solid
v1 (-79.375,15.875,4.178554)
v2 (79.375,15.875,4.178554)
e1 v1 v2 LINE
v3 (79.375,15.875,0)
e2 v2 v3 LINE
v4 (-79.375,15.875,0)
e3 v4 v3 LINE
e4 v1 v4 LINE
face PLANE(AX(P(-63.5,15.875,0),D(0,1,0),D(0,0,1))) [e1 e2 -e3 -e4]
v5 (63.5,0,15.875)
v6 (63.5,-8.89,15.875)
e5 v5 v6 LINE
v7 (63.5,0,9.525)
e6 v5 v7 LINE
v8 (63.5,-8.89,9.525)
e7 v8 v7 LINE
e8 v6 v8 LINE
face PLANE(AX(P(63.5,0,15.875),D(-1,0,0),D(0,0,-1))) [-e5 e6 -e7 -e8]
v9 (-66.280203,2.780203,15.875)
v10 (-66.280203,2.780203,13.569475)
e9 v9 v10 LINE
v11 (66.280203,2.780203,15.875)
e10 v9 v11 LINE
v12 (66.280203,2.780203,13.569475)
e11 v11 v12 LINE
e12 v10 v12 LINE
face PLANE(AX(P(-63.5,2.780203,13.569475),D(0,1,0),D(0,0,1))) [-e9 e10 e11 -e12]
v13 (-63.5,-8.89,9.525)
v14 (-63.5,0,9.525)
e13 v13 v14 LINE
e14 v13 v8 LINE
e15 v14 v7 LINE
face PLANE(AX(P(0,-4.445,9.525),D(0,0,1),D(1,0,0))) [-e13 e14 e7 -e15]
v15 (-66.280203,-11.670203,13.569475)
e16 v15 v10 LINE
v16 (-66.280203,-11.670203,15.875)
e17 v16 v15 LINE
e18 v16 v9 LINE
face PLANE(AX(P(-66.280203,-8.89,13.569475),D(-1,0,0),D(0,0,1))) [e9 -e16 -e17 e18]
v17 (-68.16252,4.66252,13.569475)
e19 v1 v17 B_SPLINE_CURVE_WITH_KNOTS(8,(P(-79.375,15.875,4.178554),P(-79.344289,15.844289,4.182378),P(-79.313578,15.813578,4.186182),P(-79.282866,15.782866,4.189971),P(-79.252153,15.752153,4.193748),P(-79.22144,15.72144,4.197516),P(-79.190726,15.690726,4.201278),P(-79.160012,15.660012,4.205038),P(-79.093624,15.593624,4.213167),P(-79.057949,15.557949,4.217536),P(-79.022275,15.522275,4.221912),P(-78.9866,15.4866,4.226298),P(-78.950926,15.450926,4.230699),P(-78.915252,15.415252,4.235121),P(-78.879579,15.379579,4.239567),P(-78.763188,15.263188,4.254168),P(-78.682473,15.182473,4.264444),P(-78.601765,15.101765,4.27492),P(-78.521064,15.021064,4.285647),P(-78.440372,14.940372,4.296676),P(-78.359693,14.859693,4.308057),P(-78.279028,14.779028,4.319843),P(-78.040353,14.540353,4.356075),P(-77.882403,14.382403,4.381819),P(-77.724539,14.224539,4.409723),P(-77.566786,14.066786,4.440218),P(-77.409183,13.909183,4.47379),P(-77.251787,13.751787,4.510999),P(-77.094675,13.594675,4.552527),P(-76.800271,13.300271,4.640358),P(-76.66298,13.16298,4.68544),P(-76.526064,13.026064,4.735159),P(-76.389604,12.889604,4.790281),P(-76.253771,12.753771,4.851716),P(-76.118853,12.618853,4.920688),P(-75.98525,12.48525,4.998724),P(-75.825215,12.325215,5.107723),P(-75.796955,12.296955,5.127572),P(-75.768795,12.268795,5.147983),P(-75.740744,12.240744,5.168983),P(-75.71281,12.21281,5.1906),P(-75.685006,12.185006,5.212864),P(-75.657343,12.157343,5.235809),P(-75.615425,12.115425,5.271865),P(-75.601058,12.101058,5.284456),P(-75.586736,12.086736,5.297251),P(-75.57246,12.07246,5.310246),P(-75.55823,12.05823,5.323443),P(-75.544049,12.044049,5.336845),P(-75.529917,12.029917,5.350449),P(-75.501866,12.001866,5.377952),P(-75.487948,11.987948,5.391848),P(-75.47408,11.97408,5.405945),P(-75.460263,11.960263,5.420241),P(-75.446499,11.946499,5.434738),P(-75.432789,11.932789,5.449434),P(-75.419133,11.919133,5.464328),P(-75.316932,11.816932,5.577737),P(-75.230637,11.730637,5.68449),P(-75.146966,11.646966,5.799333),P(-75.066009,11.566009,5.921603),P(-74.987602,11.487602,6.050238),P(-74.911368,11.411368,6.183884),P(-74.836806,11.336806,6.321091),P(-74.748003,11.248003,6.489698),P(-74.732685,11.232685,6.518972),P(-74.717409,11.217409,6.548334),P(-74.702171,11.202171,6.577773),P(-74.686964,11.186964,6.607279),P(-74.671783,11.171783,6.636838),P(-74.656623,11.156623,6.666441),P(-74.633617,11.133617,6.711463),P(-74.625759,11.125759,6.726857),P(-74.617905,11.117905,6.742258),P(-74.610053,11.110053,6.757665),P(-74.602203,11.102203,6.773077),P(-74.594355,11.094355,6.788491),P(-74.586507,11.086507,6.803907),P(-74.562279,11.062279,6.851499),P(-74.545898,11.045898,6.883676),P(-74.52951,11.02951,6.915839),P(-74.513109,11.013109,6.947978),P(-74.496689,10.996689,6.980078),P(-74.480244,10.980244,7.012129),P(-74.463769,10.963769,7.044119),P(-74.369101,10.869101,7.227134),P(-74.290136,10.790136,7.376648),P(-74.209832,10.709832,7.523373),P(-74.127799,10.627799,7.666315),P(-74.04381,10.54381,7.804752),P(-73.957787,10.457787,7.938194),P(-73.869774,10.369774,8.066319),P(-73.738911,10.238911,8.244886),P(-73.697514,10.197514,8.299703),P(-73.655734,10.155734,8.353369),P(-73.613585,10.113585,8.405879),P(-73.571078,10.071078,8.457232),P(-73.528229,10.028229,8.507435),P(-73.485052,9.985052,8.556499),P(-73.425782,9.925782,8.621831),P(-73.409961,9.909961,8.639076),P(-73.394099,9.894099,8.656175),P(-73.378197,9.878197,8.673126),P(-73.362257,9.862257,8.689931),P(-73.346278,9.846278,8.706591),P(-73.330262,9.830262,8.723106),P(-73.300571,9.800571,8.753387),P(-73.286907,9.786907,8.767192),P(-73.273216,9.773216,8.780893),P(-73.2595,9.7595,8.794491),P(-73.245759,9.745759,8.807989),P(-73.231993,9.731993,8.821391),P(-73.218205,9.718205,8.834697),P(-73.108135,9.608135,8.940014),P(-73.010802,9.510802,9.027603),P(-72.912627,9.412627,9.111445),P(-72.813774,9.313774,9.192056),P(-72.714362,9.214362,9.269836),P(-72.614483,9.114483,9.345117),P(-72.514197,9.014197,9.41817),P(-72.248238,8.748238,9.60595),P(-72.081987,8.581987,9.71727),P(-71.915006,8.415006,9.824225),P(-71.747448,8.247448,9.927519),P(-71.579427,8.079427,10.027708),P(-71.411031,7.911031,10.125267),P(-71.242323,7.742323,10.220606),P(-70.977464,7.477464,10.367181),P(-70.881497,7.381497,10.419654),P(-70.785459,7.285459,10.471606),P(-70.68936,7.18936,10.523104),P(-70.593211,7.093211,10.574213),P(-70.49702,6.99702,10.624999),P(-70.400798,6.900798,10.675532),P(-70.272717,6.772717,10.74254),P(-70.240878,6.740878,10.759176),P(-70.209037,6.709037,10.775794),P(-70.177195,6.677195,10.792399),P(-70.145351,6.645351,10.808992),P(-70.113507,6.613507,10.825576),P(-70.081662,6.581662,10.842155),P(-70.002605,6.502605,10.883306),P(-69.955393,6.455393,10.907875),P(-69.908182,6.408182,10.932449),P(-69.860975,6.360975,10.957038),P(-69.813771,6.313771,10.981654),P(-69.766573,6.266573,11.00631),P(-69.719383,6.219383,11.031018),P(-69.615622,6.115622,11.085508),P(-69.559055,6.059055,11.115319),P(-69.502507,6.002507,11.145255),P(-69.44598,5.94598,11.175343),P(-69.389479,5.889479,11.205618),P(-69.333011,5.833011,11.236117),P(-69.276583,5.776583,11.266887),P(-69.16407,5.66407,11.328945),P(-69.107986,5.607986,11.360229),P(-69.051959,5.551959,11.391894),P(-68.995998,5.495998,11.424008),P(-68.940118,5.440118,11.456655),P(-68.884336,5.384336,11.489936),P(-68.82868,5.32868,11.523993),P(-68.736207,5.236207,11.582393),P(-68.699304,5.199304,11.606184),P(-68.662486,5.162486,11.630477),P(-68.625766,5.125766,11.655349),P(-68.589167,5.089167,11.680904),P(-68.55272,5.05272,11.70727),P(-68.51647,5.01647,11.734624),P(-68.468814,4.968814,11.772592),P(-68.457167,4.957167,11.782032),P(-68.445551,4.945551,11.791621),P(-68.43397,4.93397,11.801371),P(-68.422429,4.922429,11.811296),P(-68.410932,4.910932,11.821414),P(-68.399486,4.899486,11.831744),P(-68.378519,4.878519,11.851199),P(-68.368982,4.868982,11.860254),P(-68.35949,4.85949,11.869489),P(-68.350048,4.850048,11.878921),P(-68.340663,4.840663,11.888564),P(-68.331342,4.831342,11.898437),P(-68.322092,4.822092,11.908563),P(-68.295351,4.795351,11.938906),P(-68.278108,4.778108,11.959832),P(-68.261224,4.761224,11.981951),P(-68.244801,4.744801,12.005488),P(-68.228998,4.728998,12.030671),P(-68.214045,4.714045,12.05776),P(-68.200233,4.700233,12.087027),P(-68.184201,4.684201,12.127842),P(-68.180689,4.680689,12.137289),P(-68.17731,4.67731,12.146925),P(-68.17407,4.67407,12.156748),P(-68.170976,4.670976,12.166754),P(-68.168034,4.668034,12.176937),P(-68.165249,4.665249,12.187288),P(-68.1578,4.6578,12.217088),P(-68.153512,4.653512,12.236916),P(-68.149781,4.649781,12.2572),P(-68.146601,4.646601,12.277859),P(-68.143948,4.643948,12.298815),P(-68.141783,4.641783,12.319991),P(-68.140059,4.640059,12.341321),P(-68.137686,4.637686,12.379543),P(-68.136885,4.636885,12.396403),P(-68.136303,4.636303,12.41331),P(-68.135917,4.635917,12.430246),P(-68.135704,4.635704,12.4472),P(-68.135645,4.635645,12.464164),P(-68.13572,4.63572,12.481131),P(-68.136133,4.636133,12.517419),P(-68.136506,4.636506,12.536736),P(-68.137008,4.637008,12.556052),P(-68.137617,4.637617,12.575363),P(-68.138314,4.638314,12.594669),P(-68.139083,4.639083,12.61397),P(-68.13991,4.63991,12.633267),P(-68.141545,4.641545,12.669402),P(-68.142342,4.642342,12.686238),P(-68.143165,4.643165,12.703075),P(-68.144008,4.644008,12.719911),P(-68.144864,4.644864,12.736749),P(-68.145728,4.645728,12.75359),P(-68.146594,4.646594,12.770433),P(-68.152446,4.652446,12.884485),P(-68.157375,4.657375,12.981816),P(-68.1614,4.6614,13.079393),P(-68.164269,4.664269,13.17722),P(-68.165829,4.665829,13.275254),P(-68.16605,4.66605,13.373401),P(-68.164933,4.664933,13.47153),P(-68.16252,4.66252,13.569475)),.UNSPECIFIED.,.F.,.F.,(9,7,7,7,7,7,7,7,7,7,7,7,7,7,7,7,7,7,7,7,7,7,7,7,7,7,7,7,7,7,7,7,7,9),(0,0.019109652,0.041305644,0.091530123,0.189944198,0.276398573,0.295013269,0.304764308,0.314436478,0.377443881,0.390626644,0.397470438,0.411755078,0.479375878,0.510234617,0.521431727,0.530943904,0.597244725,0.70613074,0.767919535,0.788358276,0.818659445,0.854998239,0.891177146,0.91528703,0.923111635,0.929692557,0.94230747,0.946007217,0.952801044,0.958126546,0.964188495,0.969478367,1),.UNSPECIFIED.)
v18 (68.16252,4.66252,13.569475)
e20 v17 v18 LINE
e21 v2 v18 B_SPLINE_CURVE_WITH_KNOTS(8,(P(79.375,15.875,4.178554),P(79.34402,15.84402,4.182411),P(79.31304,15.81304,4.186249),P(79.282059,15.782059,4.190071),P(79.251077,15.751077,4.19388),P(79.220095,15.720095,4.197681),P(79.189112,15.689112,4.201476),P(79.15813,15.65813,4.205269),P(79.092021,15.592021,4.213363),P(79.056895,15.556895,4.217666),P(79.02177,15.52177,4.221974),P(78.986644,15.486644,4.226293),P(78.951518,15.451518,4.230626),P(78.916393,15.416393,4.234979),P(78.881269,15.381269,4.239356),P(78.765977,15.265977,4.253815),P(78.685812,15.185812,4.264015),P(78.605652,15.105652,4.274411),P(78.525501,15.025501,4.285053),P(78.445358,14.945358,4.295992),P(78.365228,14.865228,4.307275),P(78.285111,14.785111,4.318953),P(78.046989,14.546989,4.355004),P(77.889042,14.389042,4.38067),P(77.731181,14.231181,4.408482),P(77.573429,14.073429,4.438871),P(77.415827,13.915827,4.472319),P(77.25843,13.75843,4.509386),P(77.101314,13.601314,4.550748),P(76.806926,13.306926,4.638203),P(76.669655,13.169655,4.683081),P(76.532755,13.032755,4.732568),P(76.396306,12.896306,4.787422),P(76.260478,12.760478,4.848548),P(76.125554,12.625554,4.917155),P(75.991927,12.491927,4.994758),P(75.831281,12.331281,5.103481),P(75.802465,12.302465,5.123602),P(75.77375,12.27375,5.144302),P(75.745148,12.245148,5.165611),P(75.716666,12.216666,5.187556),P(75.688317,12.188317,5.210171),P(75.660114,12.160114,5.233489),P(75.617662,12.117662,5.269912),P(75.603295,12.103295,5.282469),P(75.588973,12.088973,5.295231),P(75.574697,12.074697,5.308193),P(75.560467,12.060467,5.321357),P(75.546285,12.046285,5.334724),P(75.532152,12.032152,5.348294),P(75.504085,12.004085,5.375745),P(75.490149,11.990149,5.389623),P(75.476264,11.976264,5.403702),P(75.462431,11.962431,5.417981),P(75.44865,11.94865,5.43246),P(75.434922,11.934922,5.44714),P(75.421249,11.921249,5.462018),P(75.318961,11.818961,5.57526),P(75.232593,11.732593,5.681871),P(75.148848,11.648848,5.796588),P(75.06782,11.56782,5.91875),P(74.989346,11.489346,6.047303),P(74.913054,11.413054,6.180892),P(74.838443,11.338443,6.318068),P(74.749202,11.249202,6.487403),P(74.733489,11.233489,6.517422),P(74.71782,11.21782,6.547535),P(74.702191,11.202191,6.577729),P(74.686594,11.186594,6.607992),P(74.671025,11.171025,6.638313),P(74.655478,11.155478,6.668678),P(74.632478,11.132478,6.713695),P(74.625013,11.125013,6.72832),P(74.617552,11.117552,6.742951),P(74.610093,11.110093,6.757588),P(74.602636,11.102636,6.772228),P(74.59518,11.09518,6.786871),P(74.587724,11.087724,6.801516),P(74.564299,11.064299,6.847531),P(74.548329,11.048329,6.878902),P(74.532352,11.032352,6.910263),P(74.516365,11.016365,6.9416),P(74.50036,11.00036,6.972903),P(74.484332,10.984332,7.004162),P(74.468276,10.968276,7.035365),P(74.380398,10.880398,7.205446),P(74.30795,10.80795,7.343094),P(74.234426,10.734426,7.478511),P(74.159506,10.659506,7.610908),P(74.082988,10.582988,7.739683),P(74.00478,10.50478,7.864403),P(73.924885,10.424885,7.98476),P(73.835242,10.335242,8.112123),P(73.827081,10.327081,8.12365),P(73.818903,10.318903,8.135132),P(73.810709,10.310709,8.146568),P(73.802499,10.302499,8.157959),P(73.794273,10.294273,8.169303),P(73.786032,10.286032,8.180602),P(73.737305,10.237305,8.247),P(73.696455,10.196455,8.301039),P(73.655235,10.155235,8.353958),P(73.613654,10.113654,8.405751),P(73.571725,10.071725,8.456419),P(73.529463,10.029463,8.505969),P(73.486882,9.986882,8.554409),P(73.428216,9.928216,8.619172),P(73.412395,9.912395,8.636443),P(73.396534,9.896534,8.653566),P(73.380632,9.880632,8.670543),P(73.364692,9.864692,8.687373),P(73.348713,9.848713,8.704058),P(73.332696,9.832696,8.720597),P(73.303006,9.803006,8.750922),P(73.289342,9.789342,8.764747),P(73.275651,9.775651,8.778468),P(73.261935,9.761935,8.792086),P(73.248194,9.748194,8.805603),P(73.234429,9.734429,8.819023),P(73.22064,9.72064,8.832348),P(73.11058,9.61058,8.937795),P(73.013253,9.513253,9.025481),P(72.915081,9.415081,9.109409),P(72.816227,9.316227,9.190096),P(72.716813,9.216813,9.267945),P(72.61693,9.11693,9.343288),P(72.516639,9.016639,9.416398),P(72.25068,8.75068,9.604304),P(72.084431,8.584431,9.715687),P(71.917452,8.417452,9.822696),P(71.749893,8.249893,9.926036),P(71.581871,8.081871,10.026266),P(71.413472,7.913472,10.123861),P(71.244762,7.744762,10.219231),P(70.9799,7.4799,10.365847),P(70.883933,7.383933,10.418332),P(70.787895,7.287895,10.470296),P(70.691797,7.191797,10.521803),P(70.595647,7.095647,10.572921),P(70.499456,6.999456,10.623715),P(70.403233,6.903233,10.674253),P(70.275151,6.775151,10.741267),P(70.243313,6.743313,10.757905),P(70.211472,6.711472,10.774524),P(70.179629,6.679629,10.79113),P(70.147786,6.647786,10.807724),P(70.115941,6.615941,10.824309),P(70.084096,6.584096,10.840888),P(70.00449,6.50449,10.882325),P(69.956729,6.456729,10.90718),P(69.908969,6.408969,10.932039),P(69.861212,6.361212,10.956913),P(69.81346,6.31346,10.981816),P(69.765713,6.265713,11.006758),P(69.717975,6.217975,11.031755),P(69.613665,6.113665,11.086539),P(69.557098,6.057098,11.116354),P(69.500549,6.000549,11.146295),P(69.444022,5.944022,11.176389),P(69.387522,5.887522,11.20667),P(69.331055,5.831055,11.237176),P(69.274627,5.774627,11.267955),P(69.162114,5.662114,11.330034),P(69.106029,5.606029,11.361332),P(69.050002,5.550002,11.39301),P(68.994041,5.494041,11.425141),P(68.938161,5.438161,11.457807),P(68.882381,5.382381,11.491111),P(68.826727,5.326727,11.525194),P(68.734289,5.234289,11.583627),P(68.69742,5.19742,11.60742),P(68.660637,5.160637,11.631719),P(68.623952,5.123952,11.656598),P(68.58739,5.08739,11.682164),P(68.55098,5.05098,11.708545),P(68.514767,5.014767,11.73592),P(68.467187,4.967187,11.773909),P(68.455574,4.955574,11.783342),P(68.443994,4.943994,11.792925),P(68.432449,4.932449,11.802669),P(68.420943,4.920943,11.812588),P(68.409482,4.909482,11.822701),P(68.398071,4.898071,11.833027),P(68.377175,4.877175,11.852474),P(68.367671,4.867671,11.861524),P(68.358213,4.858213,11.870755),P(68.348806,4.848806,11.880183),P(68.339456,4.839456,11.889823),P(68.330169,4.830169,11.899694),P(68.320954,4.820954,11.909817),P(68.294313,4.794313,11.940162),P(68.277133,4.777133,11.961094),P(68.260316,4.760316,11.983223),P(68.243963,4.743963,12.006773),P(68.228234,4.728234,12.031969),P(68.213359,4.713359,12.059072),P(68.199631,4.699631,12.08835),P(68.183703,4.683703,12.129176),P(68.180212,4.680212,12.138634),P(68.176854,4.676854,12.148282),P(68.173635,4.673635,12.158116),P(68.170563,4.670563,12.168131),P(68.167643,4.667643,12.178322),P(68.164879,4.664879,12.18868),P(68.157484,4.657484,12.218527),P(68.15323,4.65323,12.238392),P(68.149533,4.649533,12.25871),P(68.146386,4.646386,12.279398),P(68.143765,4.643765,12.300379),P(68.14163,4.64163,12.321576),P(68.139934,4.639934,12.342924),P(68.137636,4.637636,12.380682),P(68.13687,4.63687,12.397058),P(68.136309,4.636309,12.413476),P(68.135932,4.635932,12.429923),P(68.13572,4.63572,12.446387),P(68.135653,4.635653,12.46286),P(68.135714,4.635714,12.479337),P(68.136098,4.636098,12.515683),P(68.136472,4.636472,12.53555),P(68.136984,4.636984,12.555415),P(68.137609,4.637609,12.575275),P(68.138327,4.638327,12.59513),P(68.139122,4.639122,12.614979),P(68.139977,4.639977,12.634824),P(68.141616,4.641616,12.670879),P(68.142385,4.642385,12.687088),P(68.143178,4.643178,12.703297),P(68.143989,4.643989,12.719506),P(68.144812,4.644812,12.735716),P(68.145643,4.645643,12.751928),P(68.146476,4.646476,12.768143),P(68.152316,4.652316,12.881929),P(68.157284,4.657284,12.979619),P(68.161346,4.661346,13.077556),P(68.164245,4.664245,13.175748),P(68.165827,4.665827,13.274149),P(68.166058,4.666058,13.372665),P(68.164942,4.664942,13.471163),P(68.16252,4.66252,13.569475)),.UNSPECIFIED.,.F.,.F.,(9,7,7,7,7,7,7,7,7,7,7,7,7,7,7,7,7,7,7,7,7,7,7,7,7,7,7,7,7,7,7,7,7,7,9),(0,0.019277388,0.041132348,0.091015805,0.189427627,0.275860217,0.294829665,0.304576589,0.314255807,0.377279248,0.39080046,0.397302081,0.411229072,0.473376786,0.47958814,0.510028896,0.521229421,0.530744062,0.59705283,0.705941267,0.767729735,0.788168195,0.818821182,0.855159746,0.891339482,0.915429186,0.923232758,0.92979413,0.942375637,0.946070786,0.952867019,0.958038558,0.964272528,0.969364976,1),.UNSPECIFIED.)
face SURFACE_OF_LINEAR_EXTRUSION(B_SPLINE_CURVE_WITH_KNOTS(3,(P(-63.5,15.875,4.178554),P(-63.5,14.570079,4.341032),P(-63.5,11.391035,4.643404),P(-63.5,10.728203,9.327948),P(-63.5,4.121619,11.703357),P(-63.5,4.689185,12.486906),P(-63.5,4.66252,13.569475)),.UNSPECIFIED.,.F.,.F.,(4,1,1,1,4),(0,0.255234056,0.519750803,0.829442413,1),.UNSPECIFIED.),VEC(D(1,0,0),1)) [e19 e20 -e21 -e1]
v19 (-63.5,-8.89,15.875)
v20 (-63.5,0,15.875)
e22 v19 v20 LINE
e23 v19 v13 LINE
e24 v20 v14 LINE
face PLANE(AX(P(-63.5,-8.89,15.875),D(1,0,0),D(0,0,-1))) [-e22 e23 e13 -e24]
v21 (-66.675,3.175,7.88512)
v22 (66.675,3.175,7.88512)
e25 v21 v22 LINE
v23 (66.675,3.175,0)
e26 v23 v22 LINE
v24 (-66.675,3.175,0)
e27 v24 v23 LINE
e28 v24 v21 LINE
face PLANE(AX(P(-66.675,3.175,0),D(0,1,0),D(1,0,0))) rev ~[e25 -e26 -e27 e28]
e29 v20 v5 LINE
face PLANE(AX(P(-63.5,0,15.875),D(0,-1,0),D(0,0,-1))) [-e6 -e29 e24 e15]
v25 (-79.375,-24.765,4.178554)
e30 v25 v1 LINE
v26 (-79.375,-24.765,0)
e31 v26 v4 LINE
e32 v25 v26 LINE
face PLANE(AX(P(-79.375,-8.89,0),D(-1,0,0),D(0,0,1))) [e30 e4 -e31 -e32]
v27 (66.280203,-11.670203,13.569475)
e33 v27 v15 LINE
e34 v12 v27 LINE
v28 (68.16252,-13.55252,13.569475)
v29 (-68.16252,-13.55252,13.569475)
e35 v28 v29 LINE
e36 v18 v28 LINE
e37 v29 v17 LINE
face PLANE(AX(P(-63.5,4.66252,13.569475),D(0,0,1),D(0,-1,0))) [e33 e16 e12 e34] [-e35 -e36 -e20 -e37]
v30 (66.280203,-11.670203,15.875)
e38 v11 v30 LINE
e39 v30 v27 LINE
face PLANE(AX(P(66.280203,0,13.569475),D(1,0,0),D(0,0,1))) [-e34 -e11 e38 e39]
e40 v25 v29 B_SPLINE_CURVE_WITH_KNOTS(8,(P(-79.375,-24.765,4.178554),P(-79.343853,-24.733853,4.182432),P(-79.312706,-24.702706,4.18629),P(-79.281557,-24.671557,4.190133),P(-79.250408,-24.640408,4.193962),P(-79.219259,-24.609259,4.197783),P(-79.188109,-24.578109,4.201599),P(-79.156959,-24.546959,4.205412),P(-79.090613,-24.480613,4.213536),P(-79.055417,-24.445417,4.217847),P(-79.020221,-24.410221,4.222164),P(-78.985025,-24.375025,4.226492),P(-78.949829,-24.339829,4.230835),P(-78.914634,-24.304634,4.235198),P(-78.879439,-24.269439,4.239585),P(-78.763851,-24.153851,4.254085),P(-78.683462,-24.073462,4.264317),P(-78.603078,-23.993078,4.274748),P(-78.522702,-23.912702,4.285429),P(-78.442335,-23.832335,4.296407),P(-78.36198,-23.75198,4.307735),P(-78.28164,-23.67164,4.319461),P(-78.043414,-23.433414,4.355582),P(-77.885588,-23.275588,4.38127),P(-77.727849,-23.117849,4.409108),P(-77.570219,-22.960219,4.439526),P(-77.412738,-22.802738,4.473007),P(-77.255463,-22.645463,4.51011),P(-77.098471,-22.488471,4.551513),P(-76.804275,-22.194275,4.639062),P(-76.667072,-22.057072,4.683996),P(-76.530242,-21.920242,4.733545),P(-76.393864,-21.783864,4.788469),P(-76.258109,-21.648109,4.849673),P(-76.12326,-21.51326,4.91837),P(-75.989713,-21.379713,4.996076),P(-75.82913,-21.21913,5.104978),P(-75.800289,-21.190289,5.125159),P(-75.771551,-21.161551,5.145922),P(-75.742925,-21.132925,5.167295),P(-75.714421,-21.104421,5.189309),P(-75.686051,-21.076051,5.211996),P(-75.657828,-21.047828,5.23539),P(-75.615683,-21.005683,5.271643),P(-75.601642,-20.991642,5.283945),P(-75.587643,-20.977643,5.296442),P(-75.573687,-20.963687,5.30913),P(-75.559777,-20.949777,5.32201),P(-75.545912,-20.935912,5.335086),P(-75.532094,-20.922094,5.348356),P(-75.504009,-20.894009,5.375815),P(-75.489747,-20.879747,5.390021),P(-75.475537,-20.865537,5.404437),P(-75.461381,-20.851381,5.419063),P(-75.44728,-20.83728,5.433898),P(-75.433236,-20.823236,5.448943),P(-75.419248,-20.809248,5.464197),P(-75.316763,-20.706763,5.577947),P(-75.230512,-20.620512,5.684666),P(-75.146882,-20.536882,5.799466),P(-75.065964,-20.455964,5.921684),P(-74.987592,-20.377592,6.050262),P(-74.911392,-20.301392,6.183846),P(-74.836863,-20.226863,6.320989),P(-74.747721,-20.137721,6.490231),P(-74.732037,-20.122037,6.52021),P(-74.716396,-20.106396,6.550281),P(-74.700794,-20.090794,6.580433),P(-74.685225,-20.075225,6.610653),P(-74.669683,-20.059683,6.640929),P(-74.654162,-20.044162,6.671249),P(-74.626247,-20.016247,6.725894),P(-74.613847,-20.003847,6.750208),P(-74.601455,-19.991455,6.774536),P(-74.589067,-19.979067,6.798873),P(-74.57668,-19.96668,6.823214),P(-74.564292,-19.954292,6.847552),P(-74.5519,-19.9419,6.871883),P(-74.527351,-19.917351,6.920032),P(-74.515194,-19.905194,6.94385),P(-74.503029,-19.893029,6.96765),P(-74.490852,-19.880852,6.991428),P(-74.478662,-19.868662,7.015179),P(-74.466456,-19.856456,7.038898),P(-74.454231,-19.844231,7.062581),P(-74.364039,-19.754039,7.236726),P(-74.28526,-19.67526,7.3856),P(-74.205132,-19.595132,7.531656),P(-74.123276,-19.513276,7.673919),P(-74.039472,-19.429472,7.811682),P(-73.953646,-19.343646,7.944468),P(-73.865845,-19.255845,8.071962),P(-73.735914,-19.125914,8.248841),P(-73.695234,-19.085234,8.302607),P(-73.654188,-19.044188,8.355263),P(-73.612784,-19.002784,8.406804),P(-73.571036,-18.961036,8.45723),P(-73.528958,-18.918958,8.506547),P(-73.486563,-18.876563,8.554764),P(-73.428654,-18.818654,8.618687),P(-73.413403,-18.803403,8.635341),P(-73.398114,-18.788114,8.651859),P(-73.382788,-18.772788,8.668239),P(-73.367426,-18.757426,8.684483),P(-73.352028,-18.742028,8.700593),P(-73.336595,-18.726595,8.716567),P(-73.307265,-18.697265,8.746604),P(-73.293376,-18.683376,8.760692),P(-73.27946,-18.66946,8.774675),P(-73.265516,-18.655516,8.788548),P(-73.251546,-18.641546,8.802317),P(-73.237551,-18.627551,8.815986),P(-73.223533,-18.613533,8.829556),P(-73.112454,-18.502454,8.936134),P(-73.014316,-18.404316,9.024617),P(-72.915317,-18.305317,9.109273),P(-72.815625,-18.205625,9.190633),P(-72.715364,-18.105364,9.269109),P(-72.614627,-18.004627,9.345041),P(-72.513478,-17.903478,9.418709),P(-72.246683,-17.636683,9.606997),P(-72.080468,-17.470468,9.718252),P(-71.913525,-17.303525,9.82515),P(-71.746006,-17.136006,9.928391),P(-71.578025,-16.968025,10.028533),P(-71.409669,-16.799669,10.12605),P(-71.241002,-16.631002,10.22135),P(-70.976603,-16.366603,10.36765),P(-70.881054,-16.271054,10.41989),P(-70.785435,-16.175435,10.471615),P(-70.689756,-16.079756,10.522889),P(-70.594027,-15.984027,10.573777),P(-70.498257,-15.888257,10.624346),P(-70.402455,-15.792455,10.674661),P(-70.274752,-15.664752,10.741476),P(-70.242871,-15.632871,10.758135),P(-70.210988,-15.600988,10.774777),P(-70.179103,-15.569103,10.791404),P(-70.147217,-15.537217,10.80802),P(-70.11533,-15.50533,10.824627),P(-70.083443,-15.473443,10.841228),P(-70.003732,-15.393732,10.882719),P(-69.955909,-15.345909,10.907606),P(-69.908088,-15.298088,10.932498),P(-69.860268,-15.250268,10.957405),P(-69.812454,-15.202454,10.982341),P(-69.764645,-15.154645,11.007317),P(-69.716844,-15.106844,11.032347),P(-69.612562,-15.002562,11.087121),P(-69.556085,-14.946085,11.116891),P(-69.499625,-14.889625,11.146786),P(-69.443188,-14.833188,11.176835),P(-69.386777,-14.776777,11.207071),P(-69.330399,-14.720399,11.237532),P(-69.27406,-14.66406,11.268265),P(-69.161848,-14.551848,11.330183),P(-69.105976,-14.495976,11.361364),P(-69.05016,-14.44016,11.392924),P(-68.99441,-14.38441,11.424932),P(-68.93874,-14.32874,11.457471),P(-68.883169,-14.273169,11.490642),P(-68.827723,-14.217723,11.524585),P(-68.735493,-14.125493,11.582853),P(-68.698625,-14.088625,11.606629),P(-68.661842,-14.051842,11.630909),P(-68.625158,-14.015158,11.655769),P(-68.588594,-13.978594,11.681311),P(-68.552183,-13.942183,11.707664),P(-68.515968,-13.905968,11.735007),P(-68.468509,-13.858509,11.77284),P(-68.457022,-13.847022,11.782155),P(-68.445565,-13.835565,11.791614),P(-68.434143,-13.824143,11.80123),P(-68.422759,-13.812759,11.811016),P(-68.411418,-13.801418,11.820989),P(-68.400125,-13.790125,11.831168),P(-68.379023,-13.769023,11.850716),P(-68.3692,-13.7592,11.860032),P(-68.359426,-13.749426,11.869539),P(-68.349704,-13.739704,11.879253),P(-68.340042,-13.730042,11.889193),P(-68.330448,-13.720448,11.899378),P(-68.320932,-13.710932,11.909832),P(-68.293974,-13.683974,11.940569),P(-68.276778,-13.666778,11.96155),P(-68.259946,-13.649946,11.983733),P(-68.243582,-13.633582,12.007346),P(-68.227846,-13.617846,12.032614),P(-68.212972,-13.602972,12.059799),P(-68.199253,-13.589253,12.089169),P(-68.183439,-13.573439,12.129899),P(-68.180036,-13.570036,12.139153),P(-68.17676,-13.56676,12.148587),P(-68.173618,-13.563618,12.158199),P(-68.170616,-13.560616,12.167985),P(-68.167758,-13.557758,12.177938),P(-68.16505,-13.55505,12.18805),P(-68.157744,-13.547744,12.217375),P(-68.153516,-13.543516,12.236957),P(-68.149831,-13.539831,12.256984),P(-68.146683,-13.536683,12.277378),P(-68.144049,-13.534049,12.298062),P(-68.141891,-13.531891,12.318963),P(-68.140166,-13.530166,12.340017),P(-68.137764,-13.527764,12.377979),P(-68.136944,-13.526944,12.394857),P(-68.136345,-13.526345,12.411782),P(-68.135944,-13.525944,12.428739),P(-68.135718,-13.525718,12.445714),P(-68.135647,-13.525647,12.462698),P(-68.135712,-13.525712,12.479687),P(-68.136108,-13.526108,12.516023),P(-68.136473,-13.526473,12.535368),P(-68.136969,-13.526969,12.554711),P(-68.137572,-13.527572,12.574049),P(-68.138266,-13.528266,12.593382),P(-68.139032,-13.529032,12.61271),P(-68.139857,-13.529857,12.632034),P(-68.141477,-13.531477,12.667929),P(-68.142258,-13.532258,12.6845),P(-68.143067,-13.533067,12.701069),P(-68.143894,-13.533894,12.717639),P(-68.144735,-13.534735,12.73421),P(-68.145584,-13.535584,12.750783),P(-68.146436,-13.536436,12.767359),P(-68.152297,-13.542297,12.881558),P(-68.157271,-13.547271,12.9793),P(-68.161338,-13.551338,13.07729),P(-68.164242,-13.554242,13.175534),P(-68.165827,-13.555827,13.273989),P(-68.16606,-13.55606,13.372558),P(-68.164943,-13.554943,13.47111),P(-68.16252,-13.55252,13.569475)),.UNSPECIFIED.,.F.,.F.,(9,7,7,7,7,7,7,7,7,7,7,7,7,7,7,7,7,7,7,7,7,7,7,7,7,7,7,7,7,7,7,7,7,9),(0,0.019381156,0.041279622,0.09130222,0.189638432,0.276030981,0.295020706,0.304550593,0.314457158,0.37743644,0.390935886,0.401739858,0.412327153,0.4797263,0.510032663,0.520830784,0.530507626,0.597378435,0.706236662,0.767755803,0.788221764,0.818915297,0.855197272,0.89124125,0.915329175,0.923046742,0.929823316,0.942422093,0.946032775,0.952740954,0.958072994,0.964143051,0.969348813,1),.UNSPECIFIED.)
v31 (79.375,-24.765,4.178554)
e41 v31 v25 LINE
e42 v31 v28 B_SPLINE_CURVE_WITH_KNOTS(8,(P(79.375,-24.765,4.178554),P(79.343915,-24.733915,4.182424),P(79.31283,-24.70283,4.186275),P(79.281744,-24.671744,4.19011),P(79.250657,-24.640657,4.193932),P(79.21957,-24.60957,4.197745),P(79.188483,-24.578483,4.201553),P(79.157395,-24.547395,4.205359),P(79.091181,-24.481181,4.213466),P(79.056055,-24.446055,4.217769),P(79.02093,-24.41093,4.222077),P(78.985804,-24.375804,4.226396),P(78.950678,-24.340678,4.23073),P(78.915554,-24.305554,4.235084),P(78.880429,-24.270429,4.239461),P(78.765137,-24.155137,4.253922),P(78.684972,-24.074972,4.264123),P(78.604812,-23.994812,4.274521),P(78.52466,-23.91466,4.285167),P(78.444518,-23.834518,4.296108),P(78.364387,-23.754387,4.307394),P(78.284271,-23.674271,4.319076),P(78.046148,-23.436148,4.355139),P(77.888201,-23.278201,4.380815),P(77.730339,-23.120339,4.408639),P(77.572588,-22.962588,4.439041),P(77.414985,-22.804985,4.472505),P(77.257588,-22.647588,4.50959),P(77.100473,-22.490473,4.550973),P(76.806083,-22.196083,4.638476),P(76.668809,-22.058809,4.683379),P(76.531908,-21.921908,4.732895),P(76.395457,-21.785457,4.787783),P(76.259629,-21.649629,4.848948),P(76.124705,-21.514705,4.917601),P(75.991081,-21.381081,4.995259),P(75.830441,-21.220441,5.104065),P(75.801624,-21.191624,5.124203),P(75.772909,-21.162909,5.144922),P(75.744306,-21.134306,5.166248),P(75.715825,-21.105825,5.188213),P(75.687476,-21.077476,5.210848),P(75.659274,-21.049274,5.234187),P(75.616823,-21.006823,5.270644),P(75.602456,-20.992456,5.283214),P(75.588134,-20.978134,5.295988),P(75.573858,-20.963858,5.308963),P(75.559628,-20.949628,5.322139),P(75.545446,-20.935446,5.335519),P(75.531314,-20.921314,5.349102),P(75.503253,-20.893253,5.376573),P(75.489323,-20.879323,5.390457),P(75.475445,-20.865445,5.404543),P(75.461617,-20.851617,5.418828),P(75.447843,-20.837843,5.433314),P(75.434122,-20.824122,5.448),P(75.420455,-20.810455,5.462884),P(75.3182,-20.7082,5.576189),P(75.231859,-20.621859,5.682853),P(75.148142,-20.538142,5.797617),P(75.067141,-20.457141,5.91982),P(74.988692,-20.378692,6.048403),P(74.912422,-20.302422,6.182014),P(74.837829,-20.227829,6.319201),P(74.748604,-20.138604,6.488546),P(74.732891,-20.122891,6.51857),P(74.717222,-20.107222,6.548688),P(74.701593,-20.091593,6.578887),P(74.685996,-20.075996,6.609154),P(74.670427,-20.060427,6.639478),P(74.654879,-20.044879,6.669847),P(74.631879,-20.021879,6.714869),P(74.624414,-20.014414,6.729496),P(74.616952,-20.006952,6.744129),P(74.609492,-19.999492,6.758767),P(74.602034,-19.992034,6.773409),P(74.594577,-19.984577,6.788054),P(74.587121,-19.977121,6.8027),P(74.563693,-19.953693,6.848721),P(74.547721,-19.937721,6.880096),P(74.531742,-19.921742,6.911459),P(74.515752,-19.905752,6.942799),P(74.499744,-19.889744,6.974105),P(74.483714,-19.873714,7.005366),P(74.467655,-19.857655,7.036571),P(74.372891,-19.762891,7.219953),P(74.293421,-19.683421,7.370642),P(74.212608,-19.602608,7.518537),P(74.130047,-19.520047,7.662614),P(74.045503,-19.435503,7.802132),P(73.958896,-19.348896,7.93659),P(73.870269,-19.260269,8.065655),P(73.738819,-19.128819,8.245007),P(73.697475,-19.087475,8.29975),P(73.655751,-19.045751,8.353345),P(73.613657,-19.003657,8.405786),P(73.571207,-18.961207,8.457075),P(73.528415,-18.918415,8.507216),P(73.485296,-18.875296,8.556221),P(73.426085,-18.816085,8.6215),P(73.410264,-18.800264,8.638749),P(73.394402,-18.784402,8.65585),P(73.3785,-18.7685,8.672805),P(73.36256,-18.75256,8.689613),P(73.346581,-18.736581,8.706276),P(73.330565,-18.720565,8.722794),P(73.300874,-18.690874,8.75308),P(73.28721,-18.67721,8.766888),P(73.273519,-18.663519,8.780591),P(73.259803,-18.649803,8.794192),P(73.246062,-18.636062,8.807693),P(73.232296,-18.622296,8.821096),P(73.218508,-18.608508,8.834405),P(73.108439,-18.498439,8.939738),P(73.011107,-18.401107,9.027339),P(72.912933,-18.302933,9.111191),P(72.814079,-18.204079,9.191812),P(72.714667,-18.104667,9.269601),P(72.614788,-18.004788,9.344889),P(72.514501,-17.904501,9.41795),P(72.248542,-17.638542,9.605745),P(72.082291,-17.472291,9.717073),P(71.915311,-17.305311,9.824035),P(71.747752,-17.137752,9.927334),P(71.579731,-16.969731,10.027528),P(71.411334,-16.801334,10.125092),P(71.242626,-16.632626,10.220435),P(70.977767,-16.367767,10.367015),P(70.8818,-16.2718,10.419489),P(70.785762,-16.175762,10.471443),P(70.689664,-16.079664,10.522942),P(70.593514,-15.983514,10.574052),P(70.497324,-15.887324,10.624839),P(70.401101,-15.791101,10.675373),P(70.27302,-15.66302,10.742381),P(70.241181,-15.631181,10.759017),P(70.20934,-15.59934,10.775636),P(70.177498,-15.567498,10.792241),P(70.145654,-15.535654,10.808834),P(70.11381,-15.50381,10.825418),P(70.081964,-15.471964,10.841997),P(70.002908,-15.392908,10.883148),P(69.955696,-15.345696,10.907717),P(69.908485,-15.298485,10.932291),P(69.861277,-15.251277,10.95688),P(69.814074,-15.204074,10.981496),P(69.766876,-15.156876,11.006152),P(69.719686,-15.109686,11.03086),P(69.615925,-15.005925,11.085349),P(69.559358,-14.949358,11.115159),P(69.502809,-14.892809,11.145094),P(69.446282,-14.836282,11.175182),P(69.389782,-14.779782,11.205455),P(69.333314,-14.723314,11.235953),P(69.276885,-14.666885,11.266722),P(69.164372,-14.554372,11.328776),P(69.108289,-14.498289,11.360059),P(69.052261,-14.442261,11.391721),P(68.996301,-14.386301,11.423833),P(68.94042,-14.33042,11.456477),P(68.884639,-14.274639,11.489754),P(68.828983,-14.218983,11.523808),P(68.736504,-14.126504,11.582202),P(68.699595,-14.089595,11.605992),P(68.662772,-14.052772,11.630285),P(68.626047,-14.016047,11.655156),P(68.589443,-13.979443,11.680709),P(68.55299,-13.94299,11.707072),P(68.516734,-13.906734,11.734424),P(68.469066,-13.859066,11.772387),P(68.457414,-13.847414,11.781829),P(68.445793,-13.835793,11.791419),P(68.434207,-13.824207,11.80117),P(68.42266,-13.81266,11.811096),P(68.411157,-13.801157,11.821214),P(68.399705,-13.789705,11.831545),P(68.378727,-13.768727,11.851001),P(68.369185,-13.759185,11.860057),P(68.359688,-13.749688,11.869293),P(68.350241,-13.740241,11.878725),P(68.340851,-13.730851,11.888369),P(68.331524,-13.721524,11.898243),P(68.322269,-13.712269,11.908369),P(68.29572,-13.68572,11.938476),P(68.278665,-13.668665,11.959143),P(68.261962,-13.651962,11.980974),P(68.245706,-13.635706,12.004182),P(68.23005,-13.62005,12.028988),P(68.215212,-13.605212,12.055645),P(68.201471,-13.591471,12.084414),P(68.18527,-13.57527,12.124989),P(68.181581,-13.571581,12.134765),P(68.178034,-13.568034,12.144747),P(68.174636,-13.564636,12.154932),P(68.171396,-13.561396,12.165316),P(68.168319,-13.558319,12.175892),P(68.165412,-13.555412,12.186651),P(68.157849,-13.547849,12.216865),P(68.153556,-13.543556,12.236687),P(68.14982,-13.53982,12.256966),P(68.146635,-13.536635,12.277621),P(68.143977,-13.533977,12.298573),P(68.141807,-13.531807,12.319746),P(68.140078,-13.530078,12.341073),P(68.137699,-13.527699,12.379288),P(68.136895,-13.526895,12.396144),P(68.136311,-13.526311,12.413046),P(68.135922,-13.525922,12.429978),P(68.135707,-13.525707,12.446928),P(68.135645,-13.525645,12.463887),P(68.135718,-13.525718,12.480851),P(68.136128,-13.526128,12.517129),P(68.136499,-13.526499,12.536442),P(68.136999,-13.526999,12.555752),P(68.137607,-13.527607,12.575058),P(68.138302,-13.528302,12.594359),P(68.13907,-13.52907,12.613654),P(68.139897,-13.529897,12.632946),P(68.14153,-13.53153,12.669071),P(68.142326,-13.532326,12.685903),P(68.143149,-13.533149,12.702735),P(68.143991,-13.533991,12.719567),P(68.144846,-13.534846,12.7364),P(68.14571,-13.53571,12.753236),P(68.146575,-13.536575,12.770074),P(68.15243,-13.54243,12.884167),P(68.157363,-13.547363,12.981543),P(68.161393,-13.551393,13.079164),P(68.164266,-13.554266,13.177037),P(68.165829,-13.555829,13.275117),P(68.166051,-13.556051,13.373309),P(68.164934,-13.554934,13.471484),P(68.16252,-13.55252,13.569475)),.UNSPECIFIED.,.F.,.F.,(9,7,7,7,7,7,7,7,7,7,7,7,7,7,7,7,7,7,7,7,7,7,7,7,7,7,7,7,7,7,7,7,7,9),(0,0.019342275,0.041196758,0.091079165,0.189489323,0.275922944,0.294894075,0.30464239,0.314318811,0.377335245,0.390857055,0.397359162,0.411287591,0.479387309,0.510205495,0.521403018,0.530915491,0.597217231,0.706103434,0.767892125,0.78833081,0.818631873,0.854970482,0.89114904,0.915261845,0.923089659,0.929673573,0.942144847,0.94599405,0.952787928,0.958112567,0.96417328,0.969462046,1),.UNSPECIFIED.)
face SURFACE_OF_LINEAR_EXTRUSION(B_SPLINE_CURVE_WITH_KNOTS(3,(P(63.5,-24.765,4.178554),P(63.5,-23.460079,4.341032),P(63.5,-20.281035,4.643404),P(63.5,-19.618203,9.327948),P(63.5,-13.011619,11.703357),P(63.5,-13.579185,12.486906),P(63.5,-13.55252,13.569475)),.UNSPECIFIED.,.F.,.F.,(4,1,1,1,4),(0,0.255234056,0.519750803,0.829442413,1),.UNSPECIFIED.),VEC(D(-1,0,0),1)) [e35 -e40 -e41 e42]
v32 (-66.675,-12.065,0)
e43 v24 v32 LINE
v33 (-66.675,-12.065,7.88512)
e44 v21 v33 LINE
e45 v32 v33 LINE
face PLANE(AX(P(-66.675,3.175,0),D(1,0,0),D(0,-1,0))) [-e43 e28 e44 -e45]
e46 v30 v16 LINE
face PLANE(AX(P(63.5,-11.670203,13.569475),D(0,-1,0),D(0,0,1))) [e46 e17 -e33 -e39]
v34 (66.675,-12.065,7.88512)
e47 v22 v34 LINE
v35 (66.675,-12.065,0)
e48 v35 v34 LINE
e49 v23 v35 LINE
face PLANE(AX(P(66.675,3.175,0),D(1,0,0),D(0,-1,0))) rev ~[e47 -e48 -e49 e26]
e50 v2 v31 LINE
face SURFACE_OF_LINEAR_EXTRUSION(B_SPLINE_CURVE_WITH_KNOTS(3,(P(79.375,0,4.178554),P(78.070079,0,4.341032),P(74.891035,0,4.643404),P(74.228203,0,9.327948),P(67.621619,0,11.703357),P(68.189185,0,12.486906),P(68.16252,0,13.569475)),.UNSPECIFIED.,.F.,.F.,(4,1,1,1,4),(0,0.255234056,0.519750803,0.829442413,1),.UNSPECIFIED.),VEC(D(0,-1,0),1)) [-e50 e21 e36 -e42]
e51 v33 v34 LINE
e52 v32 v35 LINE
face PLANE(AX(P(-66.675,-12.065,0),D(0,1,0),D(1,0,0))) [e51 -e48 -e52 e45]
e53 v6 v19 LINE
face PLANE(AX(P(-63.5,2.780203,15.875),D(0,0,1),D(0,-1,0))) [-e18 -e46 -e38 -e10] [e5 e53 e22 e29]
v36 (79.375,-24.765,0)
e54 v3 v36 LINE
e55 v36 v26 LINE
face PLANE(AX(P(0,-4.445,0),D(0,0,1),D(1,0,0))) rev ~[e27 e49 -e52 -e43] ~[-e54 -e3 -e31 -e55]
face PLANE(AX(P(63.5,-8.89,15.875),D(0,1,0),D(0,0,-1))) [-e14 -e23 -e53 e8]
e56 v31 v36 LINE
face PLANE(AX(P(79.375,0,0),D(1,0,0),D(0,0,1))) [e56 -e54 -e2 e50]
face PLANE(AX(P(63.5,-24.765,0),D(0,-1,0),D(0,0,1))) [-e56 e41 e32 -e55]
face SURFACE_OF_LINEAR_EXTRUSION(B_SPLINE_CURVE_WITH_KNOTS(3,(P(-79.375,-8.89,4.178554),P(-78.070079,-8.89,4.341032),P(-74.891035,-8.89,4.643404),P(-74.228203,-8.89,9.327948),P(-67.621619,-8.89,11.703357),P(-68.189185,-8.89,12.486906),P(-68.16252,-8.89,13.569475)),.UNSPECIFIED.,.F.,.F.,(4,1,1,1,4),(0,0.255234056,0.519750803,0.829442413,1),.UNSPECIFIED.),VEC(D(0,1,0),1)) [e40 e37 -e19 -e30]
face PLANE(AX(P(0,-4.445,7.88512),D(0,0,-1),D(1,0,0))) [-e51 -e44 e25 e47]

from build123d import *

# Parameters (mm, degrees)
F3_W     = 127
F3_H     = 8.89
F4_DEPTH = 9.525
F5_W     = 133.35
F5_H     = 15.24
F6_DEPTH = 7.88512


with BuildPart() as f2:
    # F2: sweep along a path in F0
    with BuildLine(Plane.XY) as f2_path:
        Line((-63.5, 0), (63.5, 0))
        Line((63.5, 0), (63.5, -8.89))
        Line((63.5, -8.89), (-63.5, -8.89))
        Line((-63.5, -8.89), (-63.5, 0))
    # F1 (on Right) → F2 (sweep)
    with BuildSketch(Plane.YZ):
        with BuildLine():
            Line((0, 4.178553988), (0, 0))
            Line((0, 0), (15.875, 0))
            Line((15.875, 0), (15.875, 4.178553988))
            add(Edge.make_bspline(
                [(15.875, 4.178553988), (14.5700791907, 4.3410316154), (11.3910350226, 4.6434039972), (10.7282030423, 9.3279482792), (4.1216189564, 11.7033571608), (4.6891846979, 12.4869055891), (4.6625201725, 13.5694751074)],
                knots=[0, 0, 0, 0, 0.2552340564, 0.5197508028, 0.8294424133, 1, 1, 1, 1], degree=3))
            Line((4.6625201725, 13.5694751074), (2.7802032419, 13.5694751074))
            Line((2.7802032419, 13.5694751074), (2.7802032419, 15.875))
            Line((2.7802032419, 15.875), (0, 15.875))
            Line((0, 15.875), (0, 4.178553988))
        make_face()
    sweep(path=f2_path.line, transition=Transition.RIGHT)

    # F3 (on Top) → F4 (join)
    with BuildSketch(Plane.XY):
        with Locations((0, -4.445)):
            Rectangle(F3_W, F3_H)
    extrude(amount=F4_DEPTH)

    # F5 (on face) → F6 (cut)
    with BuildSketch(Plane(origin=(0, 0, 0), x_dir=(1, 0, 0), z_dir=(0, 0, -1))):
        with Locations((0, 4.445)):
            Rectangle(F5_W, F5_H)
    extrude(amount=-F6_DEPTH, mode=Mode.SUBTRACT)


solid = f2.part
